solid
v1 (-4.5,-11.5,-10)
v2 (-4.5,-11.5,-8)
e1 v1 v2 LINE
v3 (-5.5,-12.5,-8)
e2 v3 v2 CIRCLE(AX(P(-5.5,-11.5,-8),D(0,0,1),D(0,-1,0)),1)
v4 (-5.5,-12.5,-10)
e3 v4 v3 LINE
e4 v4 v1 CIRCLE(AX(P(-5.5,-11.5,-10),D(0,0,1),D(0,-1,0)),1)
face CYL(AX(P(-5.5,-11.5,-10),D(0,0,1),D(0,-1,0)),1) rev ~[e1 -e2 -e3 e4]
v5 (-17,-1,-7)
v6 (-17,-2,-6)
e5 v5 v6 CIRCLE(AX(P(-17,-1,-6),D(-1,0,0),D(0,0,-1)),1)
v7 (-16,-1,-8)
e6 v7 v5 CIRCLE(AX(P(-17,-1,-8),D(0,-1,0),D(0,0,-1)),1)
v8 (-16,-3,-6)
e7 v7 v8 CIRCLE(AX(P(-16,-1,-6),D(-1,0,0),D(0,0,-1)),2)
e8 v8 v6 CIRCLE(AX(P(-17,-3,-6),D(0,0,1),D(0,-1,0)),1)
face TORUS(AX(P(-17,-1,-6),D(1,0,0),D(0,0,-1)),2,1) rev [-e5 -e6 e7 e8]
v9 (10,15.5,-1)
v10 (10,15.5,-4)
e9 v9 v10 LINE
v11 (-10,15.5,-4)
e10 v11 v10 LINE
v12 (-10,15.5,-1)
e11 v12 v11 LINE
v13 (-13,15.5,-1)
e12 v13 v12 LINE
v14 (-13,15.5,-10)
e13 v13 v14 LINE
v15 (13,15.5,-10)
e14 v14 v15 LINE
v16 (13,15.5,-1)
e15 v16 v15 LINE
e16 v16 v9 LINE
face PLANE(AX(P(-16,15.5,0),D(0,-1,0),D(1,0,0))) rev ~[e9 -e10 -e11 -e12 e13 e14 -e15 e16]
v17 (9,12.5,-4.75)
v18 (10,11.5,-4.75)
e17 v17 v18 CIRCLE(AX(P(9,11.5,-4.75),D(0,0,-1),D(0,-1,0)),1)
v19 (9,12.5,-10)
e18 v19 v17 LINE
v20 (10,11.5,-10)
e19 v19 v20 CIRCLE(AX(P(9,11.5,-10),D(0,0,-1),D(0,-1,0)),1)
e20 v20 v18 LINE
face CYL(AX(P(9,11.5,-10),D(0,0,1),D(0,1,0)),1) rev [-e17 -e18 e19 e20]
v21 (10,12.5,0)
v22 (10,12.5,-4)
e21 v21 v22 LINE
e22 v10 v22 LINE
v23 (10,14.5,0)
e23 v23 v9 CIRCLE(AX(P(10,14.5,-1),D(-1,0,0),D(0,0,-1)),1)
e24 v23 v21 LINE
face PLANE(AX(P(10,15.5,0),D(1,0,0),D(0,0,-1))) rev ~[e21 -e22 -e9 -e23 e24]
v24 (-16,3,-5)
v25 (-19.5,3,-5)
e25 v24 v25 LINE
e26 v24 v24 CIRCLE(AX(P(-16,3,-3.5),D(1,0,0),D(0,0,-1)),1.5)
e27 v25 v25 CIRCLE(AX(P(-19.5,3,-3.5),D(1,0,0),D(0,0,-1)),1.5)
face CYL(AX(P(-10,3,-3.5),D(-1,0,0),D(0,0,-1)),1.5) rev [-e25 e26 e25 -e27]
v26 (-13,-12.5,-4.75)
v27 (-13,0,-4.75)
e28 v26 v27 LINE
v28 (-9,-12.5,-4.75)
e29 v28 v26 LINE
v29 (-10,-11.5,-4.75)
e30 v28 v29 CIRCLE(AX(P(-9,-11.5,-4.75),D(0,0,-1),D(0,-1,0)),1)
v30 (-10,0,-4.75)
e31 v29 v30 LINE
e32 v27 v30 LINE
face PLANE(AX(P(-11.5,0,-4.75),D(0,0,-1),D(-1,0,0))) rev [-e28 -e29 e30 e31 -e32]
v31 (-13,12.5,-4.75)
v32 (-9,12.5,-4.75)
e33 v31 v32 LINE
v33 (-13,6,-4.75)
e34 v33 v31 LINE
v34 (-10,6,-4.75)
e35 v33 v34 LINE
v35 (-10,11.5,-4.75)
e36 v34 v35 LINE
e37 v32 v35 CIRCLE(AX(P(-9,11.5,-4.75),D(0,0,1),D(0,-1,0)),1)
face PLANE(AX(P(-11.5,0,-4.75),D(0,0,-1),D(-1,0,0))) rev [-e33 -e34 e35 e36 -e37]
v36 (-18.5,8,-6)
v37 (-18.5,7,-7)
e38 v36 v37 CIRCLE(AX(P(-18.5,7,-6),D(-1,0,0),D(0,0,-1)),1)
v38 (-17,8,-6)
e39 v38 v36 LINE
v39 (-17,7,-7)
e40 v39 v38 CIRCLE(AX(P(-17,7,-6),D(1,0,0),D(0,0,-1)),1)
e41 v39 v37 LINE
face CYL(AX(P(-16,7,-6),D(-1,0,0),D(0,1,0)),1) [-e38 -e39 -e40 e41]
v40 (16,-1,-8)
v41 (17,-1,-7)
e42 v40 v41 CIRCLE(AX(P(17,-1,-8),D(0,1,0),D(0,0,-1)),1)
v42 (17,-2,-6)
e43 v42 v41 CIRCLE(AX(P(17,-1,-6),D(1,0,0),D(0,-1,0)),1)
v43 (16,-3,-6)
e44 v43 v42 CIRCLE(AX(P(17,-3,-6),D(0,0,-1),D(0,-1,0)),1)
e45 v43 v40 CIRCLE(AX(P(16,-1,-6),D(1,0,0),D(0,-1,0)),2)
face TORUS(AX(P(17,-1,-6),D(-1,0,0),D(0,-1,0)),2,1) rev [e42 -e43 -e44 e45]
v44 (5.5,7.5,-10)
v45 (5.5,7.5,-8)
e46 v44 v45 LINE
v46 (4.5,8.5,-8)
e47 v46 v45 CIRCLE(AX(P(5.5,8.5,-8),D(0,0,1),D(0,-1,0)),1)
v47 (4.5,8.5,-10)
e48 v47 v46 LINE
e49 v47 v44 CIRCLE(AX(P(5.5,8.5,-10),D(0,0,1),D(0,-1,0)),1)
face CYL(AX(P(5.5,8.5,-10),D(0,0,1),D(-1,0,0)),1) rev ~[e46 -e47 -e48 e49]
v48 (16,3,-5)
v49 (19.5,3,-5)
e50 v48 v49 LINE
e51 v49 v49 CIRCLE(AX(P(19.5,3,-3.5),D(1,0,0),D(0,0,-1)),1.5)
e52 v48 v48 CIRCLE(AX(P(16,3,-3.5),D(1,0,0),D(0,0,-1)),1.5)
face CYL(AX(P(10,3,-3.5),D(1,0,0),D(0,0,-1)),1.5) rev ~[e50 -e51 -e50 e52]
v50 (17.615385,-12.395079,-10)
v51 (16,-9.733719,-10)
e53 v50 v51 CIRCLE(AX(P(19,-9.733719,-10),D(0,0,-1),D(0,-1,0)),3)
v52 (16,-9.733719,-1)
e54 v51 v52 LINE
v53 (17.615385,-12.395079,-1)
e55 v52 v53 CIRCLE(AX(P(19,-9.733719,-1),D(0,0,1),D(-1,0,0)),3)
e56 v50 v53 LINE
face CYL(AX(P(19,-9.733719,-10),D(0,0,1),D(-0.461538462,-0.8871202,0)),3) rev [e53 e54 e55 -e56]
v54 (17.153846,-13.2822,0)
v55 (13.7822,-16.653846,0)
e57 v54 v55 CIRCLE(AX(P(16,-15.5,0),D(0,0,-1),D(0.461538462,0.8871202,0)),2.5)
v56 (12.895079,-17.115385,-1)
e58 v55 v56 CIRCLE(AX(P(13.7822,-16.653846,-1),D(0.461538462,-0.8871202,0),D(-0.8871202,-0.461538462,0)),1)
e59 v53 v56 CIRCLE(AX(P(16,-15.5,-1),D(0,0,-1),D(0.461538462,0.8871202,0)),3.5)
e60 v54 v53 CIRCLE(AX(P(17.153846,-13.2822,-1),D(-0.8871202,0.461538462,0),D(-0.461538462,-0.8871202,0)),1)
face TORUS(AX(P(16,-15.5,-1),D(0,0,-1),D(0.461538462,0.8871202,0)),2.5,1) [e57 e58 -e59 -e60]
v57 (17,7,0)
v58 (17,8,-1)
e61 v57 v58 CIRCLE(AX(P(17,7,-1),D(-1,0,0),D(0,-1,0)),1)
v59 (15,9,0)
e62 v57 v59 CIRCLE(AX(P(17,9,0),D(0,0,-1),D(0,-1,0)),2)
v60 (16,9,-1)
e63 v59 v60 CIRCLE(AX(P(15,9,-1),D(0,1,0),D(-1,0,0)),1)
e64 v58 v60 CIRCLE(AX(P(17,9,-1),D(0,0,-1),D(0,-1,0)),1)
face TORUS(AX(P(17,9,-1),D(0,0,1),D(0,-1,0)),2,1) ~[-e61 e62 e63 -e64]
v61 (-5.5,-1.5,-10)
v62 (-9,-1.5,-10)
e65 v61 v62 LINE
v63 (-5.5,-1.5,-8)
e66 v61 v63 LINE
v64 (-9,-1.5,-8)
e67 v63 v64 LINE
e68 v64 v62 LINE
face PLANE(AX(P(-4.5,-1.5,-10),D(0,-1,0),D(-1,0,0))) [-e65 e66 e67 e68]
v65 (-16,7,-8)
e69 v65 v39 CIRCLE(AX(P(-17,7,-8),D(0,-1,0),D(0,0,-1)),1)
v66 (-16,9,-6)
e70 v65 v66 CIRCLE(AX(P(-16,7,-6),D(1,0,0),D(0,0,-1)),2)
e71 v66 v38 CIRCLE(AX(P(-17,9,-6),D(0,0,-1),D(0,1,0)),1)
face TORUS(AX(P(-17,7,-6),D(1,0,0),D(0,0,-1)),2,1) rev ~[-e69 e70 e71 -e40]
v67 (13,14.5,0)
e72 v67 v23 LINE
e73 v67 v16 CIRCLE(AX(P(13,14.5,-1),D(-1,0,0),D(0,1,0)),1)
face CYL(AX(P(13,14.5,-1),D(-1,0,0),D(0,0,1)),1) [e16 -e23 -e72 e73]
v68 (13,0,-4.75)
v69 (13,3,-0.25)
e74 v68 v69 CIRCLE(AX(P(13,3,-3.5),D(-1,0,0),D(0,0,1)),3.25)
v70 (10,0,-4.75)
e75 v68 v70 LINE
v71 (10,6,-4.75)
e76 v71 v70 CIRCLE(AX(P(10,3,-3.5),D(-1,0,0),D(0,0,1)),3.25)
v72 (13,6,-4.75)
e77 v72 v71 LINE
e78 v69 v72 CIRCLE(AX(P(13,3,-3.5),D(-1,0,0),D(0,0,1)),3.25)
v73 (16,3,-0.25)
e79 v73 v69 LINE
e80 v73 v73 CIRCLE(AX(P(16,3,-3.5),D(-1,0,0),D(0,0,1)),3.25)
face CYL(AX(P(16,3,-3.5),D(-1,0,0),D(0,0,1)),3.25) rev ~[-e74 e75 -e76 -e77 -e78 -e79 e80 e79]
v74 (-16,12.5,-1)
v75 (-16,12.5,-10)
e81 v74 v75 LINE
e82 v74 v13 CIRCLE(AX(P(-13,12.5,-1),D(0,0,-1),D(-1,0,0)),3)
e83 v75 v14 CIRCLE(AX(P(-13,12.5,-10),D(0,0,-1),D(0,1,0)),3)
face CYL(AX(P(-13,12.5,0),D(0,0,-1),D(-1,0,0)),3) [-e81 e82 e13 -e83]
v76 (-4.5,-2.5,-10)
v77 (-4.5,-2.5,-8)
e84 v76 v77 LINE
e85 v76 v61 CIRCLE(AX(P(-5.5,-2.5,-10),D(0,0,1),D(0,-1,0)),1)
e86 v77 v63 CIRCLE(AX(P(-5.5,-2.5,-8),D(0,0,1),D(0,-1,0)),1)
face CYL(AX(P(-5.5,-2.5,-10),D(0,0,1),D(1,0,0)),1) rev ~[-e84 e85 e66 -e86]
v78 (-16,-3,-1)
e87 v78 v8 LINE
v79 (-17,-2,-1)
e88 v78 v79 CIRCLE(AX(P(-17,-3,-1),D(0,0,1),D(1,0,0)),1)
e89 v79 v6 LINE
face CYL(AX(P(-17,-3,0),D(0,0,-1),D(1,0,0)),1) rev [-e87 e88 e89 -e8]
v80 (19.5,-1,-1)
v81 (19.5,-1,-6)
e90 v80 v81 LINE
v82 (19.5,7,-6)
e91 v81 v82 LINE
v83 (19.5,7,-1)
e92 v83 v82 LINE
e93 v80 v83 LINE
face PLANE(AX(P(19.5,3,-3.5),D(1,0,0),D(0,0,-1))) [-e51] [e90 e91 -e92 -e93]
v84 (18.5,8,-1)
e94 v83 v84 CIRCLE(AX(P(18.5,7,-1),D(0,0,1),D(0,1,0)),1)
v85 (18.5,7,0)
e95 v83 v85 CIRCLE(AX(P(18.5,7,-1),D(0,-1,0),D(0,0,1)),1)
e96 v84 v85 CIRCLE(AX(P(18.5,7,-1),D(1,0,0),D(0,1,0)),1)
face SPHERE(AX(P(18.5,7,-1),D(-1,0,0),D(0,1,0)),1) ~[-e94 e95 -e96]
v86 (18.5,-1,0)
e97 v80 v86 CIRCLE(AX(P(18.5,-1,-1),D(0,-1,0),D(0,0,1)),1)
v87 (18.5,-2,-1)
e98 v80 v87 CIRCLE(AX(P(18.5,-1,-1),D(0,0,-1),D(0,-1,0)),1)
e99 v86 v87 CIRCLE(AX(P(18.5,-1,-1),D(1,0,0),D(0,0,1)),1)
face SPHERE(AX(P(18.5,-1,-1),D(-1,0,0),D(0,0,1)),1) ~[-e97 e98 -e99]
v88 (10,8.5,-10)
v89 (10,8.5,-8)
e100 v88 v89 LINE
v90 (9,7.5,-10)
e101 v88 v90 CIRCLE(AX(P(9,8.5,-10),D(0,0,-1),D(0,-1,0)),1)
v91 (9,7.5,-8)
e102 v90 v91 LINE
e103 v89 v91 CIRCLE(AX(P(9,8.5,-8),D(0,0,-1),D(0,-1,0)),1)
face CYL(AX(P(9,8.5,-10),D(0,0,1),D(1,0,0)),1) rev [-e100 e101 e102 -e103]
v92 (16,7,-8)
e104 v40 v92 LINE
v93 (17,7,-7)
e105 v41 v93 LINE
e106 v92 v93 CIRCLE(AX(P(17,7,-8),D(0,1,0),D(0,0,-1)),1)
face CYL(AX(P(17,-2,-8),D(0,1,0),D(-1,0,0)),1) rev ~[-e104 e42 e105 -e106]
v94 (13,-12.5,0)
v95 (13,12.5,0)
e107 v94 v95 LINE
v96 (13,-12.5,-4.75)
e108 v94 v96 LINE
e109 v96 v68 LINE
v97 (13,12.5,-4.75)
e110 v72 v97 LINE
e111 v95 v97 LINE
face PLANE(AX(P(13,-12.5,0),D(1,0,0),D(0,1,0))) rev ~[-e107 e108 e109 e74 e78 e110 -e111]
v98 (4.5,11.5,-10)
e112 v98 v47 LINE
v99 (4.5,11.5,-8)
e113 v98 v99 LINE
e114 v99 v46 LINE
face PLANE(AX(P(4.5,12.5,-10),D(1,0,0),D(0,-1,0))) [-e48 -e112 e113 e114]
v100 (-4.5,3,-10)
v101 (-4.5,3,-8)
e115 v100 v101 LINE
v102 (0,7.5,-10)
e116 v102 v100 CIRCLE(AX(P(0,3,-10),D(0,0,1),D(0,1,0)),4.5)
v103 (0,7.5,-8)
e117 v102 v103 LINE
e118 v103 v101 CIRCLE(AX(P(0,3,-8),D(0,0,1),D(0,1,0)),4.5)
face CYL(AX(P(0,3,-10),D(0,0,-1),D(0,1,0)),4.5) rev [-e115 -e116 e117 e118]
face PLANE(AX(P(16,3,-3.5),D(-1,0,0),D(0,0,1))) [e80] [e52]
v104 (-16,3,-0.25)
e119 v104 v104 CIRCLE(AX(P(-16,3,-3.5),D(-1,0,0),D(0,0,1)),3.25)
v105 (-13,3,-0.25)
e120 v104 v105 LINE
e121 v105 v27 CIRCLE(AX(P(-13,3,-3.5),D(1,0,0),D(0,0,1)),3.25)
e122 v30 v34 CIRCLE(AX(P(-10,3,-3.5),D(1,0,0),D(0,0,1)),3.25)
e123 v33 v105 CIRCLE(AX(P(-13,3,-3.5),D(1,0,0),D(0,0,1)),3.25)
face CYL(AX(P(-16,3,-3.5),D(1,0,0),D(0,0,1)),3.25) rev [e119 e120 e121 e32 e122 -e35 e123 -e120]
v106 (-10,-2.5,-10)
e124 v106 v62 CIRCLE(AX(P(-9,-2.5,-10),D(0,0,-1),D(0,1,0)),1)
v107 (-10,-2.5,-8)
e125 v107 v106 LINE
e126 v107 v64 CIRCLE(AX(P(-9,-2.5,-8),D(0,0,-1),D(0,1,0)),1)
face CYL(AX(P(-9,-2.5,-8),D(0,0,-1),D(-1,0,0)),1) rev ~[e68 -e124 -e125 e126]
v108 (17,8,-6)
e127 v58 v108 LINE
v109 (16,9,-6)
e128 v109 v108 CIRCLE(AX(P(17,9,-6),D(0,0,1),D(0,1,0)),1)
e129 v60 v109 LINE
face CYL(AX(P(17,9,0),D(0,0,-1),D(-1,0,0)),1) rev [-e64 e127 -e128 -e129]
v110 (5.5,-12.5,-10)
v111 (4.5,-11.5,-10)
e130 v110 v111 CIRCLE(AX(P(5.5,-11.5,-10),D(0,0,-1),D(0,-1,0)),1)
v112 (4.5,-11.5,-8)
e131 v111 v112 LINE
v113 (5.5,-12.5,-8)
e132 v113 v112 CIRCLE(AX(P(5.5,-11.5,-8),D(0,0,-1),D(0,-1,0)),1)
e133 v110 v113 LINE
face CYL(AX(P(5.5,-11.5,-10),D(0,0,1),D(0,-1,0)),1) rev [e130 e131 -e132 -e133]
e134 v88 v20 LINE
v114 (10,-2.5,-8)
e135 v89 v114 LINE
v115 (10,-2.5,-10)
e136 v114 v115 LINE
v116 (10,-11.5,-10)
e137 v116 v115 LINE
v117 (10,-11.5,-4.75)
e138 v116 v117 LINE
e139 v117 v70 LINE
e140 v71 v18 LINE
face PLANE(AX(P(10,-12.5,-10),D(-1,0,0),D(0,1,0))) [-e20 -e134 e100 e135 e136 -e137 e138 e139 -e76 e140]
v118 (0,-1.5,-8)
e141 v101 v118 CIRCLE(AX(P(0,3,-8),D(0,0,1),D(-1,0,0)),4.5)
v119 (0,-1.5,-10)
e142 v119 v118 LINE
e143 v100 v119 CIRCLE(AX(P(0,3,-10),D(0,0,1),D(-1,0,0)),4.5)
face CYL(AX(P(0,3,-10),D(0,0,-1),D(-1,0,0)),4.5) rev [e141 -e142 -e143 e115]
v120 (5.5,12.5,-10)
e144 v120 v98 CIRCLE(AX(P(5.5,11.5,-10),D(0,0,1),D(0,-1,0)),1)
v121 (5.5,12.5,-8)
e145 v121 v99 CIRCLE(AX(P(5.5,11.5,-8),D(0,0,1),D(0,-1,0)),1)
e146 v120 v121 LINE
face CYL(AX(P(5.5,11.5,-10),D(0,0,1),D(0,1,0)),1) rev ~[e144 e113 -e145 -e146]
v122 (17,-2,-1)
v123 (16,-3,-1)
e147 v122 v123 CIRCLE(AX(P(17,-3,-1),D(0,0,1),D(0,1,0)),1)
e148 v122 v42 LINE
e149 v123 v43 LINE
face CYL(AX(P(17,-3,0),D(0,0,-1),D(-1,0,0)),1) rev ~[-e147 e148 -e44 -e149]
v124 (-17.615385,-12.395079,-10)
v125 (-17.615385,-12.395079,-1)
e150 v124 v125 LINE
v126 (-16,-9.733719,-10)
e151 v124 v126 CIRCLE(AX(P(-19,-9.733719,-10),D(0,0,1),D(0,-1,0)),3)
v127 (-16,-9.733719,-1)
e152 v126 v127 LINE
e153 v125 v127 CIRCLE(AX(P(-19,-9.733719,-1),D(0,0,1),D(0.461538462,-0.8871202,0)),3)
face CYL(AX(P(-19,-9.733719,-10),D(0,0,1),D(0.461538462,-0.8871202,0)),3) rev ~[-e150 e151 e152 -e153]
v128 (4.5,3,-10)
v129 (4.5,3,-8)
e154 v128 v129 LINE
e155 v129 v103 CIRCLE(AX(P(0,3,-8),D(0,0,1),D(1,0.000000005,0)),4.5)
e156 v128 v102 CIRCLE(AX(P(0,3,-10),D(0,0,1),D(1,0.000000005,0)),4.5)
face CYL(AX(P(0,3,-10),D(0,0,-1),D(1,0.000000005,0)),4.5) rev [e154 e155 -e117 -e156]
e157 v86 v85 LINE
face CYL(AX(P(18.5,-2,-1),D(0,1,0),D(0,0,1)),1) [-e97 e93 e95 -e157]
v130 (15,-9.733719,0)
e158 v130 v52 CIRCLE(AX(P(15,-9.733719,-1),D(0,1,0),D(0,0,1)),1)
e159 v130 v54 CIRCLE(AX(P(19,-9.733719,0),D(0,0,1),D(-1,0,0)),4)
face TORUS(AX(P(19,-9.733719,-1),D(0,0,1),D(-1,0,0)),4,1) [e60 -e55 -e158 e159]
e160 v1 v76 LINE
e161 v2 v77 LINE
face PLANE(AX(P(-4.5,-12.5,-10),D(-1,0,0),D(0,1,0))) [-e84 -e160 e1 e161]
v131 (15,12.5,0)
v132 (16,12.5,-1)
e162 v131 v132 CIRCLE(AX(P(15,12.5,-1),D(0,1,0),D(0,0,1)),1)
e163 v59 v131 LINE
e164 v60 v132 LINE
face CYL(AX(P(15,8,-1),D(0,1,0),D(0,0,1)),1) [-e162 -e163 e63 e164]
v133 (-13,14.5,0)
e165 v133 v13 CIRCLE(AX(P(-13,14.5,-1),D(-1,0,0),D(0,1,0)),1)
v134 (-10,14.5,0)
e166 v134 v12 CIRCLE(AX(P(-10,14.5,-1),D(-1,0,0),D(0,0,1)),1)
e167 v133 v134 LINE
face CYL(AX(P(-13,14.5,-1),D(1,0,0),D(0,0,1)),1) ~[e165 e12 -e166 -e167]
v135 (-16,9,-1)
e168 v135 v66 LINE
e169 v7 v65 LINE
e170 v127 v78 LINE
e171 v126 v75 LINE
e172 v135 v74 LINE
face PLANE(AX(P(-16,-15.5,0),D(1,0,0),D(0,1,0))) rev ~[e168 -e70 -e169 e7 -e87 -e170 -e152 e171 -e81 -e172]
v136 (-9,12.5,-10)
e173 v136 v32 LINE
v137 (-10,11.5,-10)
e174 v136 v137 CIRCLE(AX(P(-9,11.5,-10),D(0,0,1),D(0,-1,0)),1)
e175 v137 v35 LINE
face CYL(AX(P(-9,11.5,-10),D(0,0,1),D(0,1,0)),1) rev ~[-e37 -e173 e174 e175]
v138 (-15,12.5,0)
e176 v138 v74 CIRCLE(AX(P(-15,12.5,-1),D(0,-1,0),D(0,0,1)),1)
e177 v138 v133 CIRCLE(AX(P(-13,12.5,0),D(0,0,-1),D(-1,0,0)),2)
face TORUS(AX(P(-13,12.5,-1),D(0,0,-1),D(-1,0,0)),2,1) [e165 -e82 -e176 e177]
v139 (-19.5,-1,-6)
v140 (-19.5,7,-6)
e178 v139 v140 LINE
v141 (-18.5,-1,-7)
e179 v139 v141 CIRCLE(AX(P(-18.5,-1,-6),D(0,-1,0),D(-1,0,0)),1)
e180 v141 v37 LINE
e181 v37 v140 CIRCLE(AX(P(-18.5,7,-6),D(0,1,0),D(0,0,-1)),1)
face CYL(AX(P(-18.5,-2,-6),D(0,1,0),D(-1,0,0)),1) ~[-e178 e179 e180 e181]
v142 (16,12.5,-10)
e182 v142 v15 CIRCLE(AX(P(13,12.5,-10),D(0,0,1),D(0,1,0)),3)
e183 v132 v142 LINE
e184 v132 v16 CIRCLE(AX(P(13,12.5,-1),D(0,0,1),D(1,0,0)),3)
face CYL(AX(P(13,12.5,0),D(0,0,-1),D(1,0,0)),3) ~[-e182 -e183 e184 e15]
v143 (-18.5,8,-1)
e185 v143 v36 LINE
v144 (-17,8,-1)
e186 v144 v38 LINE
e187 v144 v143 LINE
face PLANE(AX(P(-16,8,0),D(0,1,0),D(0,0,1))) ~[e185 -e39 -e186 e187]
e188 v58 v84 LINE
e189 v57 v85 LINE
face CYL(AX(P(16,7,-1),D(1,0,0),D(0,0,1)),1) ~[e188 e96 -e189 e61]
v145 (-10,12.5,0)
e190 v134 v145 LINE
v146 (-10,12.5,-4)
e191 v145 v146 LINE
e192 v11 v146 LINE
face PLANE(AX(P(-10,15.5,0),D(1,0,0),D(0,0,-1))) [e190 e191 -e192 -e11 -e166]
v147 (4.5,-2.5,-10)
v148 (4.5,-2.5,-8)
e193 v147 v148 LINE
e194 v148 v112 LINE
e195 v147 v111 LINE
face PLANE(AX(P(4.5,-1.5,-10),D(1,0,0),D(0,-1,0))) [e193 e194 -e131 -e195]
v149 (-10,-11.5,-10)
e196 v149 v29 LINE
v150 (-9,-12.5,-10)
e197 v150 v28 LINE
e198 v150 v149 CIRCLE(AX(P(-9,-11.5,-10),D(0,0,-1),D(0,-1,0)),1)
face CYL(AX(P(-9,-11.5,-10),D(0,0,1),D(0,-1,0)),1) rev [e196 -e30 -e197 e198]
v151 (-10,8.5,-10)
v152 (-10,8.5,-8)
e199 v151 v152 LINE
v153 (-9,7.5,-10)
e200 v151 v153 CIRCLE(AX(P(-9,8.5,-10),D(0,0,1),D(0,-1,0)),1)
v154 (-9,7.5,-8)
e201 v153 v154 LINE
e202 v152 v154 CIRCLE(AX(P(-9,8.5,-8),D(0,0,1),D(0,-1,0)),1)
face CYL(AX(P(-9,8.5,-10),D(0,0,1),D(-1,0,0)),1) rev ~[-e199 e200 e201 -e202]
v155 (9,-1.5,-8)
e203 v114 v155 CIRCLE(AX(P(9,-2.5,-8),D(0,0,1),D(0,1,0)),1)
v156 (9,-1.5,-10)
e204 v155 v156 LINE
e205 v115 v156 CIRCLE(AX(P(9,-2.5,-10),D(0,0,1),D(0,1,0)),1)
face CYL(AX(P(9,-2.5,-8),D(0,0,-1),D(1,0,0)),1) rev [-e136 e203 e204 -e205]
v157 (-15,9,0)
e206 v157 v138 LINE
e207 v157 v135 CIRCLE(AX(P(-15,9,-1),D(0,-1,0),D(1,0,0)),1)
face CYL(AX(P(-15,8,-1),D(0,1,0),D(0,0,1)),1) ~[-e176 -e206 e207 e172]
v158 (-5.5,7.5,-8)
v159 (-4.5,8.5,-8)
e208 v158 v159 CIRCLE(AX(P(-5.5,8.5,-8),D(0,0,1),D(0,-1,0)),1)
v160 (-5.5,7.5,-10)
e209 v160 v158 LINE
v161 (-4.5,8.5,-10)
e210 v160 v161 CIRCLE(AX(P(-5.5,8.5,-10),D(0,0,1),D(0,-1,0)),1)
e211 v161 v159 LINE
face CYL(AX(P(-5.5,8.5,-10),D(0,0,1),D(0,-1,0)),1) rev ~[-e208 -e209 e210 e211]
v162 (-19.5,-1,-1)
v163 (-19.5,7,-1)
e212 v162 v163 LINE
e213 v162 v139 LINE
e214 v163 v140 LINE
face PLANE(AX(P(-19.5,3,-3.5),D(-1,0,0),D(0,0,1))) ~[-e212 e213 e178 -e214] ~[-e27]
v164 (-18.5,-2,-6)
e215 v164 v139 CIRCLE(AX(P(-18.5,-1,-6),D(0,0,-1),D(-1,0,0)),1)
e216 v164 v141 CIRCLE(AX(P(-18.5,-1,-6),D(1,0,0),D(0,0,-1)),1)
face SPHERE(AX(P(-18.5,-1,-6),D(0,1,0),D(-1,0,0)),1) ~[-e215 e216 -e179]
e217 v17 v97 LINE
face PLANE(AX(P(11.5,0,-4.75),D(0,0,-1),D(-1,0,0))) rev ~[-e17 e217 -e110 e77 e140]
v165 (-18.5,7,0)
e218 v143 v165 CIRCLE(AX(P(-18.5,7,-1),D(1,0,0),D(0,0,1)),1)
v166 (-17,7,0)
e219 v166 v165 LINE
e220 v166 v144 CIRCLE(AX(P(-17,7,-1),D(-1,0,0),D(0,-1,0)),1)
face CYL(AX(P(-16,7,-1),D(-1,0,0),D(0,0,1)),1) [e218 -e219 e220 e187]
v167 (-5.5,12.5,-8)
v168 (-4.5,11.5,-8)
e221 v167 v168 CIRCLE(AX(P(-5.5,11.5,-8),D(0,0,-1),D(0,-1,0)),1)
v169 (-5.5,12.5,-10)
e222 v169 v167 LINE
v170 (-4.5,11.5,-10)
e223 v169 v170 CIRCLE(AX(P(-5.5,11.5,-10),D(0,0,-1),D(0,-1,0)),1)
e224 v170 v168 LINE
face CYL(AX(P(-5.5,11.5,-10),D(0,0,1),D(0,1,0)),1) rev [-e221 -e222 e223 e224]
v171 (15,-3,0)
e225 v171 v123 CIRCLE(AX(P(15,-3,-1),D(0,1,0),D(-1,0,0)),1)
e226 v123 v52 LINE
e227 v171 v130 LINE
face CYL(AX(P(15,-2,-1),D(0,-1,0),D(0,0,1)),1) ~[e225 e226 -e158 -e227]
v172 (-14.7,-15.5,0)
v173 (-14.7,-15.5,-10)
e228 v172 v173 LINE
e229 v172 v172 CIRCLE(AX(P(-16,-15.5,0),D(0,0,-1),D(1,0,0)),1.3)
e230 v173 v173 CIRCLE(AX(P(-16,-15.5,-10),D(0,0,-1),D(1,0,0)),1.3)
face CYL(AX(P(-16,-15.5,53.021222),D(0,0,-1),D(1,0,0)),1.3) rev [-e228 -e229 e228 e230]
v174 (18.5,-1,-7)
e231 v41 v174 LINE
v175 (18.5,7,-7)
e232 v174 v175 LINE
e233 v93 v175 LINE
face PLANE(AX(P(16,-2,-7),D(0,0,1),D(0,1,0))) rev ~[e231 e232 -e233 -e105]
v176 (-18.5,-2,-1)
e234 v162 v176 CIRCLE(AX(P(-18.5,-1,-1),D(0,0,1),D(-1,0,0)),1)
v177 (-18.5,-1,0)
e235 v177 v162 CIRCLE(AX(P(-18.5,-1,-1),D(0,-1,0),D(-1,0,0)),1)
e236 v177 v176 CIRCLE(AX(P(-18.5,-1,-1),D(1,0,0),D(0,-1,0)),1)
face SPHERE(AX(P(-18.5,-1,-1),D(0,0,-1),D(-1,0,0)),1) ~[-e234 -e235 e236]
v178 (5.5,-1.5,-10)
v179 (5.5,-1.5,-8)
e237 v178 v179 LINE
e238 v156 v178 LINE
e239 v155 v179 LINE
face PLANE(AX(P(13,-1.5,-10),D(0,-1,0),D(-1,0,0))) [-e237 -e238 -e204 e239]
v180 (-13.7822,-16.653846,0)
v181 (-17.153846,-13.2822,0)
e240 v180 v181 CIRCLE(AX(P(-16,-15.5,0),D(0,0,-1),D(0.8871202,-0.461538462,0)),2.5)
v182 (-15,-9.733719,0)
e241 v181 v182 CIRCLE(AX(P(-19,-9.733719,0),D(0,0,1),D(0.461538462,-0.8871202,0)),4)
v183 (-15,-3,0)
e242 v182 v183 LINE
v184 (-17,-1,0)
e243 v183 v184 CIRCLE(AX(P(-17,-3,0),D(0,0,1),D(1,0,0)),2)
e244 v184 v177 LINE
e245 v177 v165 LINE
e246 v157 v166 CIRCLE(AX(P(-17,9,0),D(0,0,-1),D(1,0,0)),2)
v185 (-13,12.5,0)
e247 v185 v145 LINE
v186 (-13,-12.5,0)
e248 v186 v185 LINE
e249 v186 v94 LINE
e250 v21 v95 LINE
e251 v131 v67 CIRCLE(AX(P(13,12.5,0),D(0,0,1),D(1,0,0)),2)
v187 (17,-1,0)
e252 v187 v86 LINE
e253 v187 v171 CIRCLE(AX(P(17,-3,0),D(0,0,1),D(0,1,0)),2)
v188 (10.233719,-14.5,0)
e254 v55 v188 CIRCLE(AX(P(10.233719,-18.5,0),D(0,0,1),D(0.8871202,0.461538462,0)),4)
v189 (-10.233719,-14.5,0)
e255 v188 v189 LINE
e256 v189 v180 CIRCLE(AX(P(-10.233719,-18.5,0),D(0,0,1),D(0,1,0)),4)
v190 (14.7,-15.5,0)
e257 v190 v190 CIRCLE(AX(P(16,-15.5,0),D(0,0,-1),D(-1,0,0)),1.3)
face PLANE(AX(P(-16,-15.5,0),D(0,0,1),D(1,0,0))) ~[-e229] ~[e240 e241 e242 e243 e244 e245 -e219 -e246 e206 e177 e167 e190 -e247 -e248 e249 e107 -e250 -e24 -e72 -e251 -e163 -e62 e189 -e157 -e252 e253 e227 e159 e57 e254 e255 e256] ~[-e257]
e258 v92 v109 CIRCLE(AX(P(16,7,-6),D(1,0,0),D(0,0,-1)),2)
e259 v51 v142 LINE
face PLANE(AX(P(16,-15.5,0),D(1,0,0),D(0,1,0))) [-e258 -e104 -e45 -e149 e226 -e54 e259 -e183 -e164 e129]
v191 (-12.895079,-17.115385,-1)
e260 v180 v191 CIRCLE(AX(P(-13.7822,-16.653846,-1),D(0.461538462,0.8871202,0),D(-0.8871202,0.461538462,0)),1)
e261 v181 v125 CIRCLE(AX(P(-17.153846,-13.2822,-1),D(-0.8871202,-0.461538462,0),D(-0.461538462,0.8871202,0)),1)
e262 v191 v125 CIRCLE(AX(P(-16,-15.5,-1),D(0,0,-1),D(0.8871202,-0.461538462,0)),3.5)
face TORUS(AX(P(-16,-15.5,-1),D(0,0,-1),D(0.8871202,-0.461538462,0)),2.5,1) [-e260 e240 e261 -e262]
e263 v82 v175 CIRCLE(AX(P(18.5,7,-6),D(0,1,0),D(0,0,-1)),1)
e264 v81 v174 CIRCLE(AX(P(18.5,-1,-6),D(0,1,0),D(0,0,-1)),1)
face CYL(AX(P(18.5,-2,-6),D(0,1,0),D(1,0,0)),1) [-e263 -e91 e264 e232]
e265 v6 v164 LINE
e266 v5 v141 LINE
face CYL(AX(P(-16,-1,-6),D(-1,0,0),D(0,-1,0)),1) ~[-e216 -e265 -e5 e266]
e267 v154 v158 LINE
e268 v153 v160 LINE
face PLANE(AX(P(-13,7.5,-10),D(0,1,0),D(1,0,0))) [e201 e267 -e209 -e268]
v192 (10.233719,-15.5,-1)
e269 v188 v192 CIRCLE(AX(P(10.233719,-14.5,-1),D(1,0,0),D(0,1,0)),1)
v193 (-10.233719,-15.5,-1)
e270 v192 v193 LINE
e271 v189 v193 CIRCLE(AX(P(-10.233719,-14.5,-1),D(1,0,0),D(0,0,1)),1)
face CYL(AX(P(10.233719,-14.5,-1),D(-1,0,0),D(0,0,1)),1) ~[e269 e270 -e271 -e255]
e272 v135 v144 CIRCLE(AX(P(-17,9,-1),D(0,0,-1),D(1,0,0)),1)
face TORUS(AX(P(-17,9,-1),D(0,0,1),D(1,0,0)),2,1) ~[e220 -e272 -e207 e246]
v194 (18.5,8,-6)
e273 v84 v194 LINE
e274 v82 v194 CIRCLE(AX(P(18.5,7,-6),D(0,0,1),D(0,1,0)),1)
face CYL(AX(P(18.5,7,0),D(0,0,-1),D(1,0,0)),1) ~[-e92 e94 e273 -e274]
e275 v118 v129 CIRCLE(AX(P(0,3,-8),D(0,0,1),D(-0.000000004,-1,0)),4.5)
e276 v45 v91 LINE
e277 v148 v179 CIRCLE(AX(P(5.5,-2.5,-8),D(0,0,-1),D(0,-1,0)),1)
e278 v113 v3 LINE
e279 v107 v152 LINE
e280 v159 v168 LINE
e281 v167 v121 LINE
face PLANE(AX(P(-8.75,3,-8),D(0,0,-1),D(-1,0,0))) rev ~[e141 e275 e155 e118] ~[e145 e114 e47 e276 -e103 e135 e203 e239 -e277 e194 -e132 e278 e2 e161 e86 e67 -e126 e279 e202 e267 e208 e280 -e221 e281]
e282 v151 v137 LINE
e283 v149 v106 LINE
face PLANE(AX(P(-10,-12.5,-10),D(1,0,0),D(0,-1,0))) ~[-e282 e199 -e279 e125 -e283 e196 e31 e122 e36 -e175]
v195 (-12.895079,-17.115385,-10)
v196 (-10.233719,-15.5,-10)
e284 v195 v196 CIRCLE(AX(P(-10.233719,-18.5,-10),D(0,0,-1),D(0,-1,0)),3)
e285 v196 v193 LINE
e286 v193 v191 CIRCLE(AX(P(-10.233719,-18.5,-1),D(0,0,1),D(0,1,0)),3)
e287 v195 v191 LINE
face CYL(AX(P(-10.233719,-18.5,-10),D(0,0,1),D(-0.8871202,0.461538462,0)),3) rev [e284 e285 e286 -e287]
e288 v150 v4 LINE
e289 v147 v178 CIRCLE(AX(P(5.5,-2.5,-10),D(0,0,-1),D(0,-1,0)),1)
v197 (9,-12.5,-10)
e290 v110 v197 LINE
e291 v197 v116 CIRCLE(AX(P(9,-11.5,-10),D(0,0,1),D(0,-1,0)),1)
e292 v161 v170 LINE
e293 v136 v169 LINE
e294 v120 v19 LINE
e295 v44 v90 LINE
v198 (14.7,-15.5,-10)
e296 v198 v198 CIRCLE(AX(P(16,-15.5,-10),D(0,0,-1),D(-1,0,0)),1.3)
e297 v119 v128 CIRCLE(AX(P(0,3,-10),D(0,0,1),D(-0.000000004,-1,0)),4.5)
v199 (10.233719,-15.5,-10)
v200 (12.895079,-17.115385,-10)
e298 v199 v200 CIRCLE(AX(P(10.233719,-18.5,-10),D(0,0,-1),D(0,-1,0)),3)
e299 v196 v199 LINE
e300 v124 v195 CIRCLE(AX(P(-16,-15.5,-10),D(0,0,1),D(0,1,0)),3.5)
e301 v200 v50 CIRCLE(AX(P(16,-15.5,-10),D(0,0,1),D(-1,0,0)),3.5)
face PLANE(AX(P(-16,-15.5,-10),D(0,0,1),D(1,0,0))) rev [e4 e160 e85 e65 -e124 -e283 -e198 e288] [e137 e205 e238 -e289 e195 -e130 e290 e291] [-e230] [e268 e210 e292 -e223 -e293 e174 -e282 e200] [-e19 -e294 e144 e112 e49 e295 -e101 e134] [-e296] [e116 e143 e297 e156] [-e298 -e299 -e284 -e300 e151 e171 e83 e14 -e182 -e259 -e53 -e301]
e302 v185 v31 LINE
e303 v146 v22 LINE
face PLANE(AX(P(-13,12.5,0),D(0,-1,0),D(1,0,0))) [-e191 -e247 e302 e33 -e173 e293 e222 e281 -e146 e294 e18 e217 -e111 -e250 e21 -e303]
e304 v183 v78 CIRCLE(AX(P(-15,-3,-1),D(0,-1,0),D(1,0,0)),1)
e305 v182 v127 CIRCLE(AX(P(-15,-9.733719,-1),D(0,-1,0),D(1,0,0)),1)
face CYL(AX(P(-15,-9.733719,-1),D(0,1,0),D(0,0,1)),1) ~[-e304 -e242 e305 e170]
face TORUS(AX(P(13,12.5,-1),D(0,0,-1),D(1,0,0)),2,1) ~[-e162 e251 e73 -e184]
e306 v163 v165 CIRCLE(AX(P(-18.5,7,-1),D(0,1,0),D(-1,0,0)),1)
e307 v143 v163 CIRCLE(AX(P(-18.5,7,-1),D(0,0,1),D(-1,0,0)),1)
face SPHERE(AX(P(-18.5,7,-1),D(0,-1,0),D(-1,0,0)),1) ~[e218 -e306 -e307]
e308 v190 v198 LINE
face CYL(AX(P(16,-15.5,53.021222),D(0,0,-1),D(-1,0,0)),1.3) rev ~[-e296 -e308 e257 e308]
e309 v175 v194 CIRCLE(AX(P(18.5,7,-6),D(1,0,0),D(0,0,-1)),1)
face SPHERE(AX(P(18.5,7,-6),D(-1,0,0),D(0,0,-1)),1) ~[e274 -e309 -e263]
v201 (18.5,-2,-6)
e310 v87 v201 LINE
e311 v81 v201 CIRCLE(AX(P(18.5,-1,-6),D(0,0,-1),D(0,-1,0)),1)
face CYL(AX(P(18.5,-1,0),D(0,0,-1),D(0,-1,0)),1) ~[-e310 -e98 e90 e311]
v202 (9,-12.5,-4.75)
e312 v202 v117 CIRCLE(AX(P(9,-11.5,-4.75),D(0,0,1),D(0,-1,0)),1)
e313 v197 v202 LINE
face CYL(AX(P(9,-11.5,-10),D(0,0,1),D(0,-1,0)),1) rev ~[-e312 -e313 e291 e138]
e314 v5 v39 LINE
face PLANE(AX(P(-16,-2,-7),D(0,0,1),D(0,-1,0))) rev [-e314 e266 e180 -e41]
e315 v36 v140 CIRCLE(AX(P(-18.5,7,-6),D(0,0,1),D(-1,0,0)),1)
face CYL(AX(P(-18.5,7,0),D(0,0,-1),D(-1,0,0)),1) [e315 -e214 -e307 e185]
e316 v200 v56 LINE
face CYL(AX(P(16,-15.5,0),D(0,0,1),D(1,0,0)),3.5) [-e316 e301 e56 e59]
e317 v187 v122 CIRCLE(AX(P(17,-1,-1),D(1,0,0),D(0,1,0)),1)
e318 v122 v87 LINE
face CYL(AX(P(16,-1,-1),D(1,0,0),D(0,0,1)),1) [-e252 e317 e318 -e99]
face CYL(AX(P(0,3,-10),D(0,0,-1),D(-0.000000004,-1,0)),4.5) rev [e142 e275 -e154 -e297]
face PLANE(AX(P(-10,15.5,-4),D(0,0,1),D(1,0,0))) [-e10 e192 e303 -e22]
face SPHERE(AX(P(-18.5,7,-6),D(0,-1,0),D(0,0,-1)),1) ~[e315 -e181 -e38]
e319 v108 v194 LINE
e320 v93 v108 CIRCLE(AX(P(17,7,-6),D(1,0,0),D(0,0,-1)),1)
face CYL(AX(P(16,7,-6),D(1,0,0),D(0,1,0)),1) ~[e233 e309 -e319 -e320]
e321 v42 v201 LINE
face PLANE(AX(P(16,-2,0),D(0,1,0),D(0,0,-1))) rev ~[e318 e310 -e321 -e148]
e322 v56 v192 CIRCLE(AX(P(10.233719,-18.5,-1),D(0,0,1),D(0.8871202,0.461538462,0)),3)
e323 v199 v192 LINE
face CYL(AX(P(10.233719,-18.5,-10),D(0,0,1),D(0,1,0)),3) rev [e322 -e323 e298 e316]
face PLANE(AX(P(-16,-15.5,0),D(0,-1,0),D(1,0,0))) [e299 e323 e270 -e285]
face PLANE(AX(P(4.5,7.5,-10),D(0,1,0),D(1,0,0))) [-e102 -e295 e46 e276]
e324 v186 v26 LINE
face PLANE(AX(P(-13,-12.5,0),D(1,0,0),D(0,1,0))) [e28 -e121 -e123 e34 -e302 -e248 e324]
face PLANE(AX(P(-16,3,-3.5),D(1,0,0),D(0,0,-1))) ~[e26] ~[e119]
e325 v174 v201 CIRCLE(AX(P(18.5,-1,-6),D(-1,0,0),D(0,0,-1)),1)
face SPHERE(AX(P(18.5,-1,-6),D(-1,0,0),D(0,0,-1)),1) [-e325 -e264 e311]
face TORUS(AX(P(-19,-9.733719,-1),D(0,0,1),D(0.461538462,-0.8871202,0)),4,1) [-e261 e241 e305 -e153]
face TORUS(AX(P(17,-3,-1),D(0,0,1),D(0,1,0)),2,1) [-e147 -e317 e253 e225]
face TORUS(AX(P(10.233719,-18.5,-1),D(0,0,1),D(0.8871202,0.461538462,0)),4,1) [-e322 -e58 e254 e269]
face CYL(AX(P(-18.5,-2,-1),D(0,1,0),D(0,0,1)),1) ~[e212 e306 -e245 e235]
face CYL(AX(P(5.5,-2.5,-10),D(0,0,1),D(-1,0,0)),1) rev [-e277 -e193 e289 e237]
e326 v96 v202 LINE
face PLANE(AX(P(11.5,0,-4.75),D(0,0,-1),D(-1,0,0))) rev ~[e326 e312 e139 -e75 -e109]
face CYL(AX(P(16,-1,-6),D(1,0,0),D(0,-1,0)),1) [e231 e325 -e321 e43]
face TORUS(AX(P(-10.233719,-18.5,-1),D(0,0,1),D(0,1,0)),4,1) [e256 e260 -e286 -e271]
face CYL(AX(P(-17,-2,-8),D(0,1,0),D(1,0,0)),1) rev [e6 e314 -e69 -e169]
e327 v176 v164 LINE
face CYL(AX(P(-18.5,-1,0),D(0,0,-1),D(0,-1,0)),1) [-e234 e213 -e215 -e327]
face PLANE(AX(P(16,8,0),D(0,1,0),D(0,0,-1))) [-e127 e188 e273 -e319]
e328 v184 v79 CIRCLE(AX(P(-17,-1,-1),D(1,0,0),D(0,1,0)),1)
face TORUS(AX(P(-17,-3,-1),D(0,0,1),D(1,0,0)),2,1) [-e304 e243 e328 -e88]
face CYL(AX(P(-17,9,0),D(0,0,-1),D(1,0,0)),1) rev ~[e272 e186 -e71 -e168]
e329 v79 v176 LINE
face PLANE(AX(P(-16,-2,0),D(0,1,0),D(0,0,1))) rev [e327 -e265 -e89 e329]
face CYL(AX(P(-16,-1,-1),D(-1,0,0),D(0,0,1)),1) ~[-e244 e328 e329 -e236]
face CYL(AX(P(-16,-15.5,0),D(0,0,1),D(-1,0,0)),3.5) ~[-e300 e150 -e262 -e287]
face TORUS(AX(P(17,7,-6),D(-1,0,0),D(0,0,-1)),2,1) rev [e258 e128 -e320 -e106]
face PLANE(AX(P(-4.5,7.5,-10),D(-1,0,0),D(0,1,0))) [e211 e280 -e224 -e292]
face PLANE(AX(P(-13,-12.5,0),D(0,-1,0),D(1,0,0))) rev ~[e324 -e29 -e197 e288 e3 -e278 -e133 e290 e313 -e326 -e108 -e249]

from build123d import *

# Parameters (mm, degrees)
SKETCH_1_W                   = 32
SKETCH_1_H                   = 31
SKETCH_1_W_2                 = 26
SKETCH_1_H_2                 = 25
EXTRUDE_1_DEPTH              = 10
EXTRUDE_2_DEPTH              = 2
SKETCH_4_W                   = 3
SKETCH_4_H                   = 25
EXTRUDE_3_DEPTH              = 5.25
SKETCH_5_W                   = 7
SKETCH_5_H                   = 10
EXTRUDE_4_DEPTH              = 3.5
HOLE_WIZARD_M3_1_D           = 3
HOLE_WIZARD_M3_1_DEPTH       = 9.5
HOLE_WIZARD_M3_1_CBORE_D     = 6.5
HOLE_WIZARD_M3_1_CBORE_DEPTH = 6
SKETCH_8_W                   = 20
SKETCH_8_H                   = 4
CUT_EXTRUDE_1_DEPTH          = 3
SKETCH_11_R                  = 3.5
EXTRUDE_5_DEPTH              = 10
HOLE_WIZARD_2_6_2_6_1_D      = 2.6
FILLET_1_R                   = 3
FILLET_2_R                   = 1


with BuildPart() as part:
    # 草圖1 → 填料-伸長1 (new body)
    with BuildSketch(Plane.XY):
        Rectangle(SKETCH_1_W, SKETCH_1_H)
        Rectangle(SKETCH_1_W_2, SKETCH_1_H_2, mode=Mode.SUBTRACT)
    extrude(amount=-EXTRUDE_1_DEPTH)

    # 草圖2 → 填料-伸長2 (add)
    with BuildSketch(Plane(origin=(0, 0, -10), x_dir=(-1, 0, 0), z_dir=(0, 0, -1))):
        Polygon((13, 7.5), (4.5, 7.5), (4.5, 3), (4.5, -1.5), (13, -1.5), align=None)
        with BuildLine():
            Line((4.5, 7.5), (0, 7.5))
            ThreePointArc((0, 7.5), (3.181980515, 6.181980515), (4.5, 3))
            Line((4.5, 3), (4.5, 7.5))
        make_face()
        with BuildLine():
            ThreePointArc((4.5, 3), (3.181980521, -0.181980509), (1.7e-08, -1.5))
            Line((1.7e-08, -1.5), (4.5, -1.5))
            Line((4.5, -1.5), (4.5, 3))
        make_face()
        with BuildLine():
            ThreePointArc((1.7e-08, -1.5), (-3.181980517, -0.181980513), (-4.5, 3.000000023))
            Line((-4.5, 3.000000023), (-4.5, -1.5))
            Line((-4.5, -1.5), (1.7e-08, -1.5))
        make_face()
        with BuildLine():
            Line((0, 7.5), (-4.5, 7.5))
            Line((-4.5, 7.5), (-4.5, 3.000000023))
            ThreePointArc((-4.5, 3.000000023), (-3.181980507, 6.181980523), (0, 7.5))
        make_face()
        Polygon((4.5, 12.5), (-4.5, 12.5), (-4.5, 7.5), (0, 7.5), (4.5, 7.5), align=None)
        Polygon((-4.5, 3.000000023), (-4.5, 7.5), (-13, 7.5), (-13, -1.5), (-4.5, -1.5), align=None)
        Polygon((1.7e-08, -1.5), (-4.5, -1.5), (-4.5, -12.5), (4.5, -12.5), (4.5, -1.5), align=None)
    extrude(amount=-EXTRUDE_2_DEPTH)

    # 草圖4 → 填料-伸長3 (add)
    with BuildSketch(Plane(origin=(0, 0, -10), x_dir=(-1, 0, 0), z_dir=(0, 0, -1))):
        with Locations((-11.5, 0)):
            Rectangle(SKETCH_4_W, SKETCH_4_H)
    extrude_3 = extrude(amount=-EXTRUDE_3_DEPTH)

    # 鏡射1: 填料-伸長3 across plane
    add(extrude_3.mirror(Plane(origin=(0, 0, 0), x_dir=(0, 0, 1), z_dir=(1, 0, 0))))

    # 草圖5 → 填料-伸長4 (add)
    with BuildSketch(Plane(origin=(16, 0, 0), x_dir=(0, 0, -1), z_dir=(1, 0, 0))):
        with Locations((3.5, 3)):
            Rectangle(SKETCH_5_W, SKETCH_5_H)
    extrude_4 = extrude(amount=EXTRUDE_4_DEPTH)

    # M3 六角承窩頭蓋螺釘的柱孔1
    with Locations(Plane.ZY.offset(-10)):
        with Locations((-3.5, 3)):
            hole_wizard_m3_1 = CounterBoreHole(HOLE_WIZARD_M3_1_D / 2, HOLE_WIZARD_M3_1_CBORE_D / 2, HOLE_WIZARD_M3_1_CBORE_DEPTH, depth=HOLE_WIZARD_M3_1_DEPTH)

    # 鏡射2: 填料-伸長4, M3 六角承窩頭蓋螺釘的柱孔1 across plane
    add(extrude_4.mirror(Plane(origin=(0, 0, 0), x_dir=(0, 0, 1), z_dir=(1, 0, 0))))
    add(hole_wizard_m3_1.mirror(Plane(origin=(0, 0, 0), x_dir=(0, 0, 1), z_dir=(1, 0, 0))), mode=Mode.SUBTRACT)

    # 草圖8 → 除料-伸長1 (cut)
    with BuildSketch(Plane(origin=(0, 15.5, 0), x_dir=(1, 0, 0), z_dir=(0, 1, 0))):
        with Locations((0, 2)):
            Rectangle(SKETCH_8_W, SKETCH_8_H)
    extrude(amount=-CUT_EXTRUDE_1_DEPTH, mode=Mode.SUBTRACT)

    # 草圖11 → 填料-伸長5 (add)
    with BuildSketch(Plane.XY):
        with Locations((16, -15.5)):
            Circle(SKETCH_11_R)
    extrude_5 = extrude(amount=-EXTRUDE_5_DEPTH)

    # Ø2.6 (2.6) 直徑孔1 (through all)
    with Locations(Plane.XY):
        with Locations((16, -15.5)):
            hole_wizard_2_6_2_6_1 = Hole(HOLE_WIZARD_2_6_2_6_1_D / 2)

    # 鏡射3: 填料-伸長5, Ø2.6 (2.6) 直徑孔1 across plane
    add(extrude_5.mirror(Plane(origin=(0, 0, 0), x_dir=(0, 0, 1), z_dir=(1, 0, 0))))
    add(hole_wizard_2_6_2_6_1.mirror(Plane(origin=(0, 0, 0), x_dir=(0, 0, 1), z_dir=(1, 0, 0))), mode=Mode.SUBTRACT)

    # 圓角1
    fillet_1_edges = [part.edges().sort_by_distance(p)[0] for p in [
        (16, -12, -5),
        (12.5, -15.5, -5),
        (-16, -12, -5),
        (-12.5, -15.5, -5),
        (-16, 15.5, -5),
        (16, 15.5, -5),
    ]]
    fillet(fillet_1_edges, radius=FILLET_1_R)

    # 圓角2
    fillet_2_edges = [part.edges().sort_by_distance(p)[0] for p in [
        (-10, 7.5, -9),
        (-10, -12.5, -7.375),
        (-10, -1.5, -9),
        (-10, 12.5, -7.375),
        (16, 10.25, 0),
        (16, 3, -7),
        (17.75, -2, -7),
        (16, 8, -3.5),
        (17.75, 8, -7),
        (17.75, 8, 0),
        (16, -2, -3.5),
        (17.75, -2, 0),
        (19.5, 3, -7),
        (19.5, 8, -3.5),
        (19.5, 3, 0),
        (19.5, -2, -3.5),
        (-16, -5.866859351, 0),
        (-19.5, 3, -7),
        (-17.75, 8, -7),
        (-19.5, -2, -3.5),
        (-17.75, -2, -7),
        (-19.5, 3, 0),
        (-17.75, -2, 0),
        (-19.5, 8, -3.5),
        (-17.75, 8, 0),
        (-16, 3, -7),
        (-16, 8, -3.5),
        (-16, -2, -3.5),
        (-11.5, 15.5, 0),
        (16, -5.866859351, 0),
        (-18.474873734, -17.974873734, 0),
        (0, -15.5, 0),
        (18.474873734, -17.974873734, 0),
        (11.5, 15.5, 0),
        (-16, 10.25, 0),
        (-15.121320344, 14.621320344, 0),
        (15.121320344, 14.621320344, 0),
        (16.435448757, -11.290342268, 0),
        (11.790342268, -15.935448757, 0),
        (-11.790342268, -15.935448757, 0),
        (-16.435448757, -11.290342268, 0),
        (-4.5, 7.5, -9),
        (-4.5, -1.5, -9),
        (-4.5, -12.5, -9),
        (4.5, -12.5, -9),
        (4.5, -1.5, -9),
        (4.5, 7.5, -9),
        (4.5, 12.5, -9),
        (-4.5, 12.5, -9),
        (10, 7.5, -9),
        (10, -1.5, -9),
        (10, 12.5, -7.375),
        (10, -12.5, -7.375),
    ]]
    fillet(fillet_2_edges, radius=FILLET_2_R)


solid = part.part
